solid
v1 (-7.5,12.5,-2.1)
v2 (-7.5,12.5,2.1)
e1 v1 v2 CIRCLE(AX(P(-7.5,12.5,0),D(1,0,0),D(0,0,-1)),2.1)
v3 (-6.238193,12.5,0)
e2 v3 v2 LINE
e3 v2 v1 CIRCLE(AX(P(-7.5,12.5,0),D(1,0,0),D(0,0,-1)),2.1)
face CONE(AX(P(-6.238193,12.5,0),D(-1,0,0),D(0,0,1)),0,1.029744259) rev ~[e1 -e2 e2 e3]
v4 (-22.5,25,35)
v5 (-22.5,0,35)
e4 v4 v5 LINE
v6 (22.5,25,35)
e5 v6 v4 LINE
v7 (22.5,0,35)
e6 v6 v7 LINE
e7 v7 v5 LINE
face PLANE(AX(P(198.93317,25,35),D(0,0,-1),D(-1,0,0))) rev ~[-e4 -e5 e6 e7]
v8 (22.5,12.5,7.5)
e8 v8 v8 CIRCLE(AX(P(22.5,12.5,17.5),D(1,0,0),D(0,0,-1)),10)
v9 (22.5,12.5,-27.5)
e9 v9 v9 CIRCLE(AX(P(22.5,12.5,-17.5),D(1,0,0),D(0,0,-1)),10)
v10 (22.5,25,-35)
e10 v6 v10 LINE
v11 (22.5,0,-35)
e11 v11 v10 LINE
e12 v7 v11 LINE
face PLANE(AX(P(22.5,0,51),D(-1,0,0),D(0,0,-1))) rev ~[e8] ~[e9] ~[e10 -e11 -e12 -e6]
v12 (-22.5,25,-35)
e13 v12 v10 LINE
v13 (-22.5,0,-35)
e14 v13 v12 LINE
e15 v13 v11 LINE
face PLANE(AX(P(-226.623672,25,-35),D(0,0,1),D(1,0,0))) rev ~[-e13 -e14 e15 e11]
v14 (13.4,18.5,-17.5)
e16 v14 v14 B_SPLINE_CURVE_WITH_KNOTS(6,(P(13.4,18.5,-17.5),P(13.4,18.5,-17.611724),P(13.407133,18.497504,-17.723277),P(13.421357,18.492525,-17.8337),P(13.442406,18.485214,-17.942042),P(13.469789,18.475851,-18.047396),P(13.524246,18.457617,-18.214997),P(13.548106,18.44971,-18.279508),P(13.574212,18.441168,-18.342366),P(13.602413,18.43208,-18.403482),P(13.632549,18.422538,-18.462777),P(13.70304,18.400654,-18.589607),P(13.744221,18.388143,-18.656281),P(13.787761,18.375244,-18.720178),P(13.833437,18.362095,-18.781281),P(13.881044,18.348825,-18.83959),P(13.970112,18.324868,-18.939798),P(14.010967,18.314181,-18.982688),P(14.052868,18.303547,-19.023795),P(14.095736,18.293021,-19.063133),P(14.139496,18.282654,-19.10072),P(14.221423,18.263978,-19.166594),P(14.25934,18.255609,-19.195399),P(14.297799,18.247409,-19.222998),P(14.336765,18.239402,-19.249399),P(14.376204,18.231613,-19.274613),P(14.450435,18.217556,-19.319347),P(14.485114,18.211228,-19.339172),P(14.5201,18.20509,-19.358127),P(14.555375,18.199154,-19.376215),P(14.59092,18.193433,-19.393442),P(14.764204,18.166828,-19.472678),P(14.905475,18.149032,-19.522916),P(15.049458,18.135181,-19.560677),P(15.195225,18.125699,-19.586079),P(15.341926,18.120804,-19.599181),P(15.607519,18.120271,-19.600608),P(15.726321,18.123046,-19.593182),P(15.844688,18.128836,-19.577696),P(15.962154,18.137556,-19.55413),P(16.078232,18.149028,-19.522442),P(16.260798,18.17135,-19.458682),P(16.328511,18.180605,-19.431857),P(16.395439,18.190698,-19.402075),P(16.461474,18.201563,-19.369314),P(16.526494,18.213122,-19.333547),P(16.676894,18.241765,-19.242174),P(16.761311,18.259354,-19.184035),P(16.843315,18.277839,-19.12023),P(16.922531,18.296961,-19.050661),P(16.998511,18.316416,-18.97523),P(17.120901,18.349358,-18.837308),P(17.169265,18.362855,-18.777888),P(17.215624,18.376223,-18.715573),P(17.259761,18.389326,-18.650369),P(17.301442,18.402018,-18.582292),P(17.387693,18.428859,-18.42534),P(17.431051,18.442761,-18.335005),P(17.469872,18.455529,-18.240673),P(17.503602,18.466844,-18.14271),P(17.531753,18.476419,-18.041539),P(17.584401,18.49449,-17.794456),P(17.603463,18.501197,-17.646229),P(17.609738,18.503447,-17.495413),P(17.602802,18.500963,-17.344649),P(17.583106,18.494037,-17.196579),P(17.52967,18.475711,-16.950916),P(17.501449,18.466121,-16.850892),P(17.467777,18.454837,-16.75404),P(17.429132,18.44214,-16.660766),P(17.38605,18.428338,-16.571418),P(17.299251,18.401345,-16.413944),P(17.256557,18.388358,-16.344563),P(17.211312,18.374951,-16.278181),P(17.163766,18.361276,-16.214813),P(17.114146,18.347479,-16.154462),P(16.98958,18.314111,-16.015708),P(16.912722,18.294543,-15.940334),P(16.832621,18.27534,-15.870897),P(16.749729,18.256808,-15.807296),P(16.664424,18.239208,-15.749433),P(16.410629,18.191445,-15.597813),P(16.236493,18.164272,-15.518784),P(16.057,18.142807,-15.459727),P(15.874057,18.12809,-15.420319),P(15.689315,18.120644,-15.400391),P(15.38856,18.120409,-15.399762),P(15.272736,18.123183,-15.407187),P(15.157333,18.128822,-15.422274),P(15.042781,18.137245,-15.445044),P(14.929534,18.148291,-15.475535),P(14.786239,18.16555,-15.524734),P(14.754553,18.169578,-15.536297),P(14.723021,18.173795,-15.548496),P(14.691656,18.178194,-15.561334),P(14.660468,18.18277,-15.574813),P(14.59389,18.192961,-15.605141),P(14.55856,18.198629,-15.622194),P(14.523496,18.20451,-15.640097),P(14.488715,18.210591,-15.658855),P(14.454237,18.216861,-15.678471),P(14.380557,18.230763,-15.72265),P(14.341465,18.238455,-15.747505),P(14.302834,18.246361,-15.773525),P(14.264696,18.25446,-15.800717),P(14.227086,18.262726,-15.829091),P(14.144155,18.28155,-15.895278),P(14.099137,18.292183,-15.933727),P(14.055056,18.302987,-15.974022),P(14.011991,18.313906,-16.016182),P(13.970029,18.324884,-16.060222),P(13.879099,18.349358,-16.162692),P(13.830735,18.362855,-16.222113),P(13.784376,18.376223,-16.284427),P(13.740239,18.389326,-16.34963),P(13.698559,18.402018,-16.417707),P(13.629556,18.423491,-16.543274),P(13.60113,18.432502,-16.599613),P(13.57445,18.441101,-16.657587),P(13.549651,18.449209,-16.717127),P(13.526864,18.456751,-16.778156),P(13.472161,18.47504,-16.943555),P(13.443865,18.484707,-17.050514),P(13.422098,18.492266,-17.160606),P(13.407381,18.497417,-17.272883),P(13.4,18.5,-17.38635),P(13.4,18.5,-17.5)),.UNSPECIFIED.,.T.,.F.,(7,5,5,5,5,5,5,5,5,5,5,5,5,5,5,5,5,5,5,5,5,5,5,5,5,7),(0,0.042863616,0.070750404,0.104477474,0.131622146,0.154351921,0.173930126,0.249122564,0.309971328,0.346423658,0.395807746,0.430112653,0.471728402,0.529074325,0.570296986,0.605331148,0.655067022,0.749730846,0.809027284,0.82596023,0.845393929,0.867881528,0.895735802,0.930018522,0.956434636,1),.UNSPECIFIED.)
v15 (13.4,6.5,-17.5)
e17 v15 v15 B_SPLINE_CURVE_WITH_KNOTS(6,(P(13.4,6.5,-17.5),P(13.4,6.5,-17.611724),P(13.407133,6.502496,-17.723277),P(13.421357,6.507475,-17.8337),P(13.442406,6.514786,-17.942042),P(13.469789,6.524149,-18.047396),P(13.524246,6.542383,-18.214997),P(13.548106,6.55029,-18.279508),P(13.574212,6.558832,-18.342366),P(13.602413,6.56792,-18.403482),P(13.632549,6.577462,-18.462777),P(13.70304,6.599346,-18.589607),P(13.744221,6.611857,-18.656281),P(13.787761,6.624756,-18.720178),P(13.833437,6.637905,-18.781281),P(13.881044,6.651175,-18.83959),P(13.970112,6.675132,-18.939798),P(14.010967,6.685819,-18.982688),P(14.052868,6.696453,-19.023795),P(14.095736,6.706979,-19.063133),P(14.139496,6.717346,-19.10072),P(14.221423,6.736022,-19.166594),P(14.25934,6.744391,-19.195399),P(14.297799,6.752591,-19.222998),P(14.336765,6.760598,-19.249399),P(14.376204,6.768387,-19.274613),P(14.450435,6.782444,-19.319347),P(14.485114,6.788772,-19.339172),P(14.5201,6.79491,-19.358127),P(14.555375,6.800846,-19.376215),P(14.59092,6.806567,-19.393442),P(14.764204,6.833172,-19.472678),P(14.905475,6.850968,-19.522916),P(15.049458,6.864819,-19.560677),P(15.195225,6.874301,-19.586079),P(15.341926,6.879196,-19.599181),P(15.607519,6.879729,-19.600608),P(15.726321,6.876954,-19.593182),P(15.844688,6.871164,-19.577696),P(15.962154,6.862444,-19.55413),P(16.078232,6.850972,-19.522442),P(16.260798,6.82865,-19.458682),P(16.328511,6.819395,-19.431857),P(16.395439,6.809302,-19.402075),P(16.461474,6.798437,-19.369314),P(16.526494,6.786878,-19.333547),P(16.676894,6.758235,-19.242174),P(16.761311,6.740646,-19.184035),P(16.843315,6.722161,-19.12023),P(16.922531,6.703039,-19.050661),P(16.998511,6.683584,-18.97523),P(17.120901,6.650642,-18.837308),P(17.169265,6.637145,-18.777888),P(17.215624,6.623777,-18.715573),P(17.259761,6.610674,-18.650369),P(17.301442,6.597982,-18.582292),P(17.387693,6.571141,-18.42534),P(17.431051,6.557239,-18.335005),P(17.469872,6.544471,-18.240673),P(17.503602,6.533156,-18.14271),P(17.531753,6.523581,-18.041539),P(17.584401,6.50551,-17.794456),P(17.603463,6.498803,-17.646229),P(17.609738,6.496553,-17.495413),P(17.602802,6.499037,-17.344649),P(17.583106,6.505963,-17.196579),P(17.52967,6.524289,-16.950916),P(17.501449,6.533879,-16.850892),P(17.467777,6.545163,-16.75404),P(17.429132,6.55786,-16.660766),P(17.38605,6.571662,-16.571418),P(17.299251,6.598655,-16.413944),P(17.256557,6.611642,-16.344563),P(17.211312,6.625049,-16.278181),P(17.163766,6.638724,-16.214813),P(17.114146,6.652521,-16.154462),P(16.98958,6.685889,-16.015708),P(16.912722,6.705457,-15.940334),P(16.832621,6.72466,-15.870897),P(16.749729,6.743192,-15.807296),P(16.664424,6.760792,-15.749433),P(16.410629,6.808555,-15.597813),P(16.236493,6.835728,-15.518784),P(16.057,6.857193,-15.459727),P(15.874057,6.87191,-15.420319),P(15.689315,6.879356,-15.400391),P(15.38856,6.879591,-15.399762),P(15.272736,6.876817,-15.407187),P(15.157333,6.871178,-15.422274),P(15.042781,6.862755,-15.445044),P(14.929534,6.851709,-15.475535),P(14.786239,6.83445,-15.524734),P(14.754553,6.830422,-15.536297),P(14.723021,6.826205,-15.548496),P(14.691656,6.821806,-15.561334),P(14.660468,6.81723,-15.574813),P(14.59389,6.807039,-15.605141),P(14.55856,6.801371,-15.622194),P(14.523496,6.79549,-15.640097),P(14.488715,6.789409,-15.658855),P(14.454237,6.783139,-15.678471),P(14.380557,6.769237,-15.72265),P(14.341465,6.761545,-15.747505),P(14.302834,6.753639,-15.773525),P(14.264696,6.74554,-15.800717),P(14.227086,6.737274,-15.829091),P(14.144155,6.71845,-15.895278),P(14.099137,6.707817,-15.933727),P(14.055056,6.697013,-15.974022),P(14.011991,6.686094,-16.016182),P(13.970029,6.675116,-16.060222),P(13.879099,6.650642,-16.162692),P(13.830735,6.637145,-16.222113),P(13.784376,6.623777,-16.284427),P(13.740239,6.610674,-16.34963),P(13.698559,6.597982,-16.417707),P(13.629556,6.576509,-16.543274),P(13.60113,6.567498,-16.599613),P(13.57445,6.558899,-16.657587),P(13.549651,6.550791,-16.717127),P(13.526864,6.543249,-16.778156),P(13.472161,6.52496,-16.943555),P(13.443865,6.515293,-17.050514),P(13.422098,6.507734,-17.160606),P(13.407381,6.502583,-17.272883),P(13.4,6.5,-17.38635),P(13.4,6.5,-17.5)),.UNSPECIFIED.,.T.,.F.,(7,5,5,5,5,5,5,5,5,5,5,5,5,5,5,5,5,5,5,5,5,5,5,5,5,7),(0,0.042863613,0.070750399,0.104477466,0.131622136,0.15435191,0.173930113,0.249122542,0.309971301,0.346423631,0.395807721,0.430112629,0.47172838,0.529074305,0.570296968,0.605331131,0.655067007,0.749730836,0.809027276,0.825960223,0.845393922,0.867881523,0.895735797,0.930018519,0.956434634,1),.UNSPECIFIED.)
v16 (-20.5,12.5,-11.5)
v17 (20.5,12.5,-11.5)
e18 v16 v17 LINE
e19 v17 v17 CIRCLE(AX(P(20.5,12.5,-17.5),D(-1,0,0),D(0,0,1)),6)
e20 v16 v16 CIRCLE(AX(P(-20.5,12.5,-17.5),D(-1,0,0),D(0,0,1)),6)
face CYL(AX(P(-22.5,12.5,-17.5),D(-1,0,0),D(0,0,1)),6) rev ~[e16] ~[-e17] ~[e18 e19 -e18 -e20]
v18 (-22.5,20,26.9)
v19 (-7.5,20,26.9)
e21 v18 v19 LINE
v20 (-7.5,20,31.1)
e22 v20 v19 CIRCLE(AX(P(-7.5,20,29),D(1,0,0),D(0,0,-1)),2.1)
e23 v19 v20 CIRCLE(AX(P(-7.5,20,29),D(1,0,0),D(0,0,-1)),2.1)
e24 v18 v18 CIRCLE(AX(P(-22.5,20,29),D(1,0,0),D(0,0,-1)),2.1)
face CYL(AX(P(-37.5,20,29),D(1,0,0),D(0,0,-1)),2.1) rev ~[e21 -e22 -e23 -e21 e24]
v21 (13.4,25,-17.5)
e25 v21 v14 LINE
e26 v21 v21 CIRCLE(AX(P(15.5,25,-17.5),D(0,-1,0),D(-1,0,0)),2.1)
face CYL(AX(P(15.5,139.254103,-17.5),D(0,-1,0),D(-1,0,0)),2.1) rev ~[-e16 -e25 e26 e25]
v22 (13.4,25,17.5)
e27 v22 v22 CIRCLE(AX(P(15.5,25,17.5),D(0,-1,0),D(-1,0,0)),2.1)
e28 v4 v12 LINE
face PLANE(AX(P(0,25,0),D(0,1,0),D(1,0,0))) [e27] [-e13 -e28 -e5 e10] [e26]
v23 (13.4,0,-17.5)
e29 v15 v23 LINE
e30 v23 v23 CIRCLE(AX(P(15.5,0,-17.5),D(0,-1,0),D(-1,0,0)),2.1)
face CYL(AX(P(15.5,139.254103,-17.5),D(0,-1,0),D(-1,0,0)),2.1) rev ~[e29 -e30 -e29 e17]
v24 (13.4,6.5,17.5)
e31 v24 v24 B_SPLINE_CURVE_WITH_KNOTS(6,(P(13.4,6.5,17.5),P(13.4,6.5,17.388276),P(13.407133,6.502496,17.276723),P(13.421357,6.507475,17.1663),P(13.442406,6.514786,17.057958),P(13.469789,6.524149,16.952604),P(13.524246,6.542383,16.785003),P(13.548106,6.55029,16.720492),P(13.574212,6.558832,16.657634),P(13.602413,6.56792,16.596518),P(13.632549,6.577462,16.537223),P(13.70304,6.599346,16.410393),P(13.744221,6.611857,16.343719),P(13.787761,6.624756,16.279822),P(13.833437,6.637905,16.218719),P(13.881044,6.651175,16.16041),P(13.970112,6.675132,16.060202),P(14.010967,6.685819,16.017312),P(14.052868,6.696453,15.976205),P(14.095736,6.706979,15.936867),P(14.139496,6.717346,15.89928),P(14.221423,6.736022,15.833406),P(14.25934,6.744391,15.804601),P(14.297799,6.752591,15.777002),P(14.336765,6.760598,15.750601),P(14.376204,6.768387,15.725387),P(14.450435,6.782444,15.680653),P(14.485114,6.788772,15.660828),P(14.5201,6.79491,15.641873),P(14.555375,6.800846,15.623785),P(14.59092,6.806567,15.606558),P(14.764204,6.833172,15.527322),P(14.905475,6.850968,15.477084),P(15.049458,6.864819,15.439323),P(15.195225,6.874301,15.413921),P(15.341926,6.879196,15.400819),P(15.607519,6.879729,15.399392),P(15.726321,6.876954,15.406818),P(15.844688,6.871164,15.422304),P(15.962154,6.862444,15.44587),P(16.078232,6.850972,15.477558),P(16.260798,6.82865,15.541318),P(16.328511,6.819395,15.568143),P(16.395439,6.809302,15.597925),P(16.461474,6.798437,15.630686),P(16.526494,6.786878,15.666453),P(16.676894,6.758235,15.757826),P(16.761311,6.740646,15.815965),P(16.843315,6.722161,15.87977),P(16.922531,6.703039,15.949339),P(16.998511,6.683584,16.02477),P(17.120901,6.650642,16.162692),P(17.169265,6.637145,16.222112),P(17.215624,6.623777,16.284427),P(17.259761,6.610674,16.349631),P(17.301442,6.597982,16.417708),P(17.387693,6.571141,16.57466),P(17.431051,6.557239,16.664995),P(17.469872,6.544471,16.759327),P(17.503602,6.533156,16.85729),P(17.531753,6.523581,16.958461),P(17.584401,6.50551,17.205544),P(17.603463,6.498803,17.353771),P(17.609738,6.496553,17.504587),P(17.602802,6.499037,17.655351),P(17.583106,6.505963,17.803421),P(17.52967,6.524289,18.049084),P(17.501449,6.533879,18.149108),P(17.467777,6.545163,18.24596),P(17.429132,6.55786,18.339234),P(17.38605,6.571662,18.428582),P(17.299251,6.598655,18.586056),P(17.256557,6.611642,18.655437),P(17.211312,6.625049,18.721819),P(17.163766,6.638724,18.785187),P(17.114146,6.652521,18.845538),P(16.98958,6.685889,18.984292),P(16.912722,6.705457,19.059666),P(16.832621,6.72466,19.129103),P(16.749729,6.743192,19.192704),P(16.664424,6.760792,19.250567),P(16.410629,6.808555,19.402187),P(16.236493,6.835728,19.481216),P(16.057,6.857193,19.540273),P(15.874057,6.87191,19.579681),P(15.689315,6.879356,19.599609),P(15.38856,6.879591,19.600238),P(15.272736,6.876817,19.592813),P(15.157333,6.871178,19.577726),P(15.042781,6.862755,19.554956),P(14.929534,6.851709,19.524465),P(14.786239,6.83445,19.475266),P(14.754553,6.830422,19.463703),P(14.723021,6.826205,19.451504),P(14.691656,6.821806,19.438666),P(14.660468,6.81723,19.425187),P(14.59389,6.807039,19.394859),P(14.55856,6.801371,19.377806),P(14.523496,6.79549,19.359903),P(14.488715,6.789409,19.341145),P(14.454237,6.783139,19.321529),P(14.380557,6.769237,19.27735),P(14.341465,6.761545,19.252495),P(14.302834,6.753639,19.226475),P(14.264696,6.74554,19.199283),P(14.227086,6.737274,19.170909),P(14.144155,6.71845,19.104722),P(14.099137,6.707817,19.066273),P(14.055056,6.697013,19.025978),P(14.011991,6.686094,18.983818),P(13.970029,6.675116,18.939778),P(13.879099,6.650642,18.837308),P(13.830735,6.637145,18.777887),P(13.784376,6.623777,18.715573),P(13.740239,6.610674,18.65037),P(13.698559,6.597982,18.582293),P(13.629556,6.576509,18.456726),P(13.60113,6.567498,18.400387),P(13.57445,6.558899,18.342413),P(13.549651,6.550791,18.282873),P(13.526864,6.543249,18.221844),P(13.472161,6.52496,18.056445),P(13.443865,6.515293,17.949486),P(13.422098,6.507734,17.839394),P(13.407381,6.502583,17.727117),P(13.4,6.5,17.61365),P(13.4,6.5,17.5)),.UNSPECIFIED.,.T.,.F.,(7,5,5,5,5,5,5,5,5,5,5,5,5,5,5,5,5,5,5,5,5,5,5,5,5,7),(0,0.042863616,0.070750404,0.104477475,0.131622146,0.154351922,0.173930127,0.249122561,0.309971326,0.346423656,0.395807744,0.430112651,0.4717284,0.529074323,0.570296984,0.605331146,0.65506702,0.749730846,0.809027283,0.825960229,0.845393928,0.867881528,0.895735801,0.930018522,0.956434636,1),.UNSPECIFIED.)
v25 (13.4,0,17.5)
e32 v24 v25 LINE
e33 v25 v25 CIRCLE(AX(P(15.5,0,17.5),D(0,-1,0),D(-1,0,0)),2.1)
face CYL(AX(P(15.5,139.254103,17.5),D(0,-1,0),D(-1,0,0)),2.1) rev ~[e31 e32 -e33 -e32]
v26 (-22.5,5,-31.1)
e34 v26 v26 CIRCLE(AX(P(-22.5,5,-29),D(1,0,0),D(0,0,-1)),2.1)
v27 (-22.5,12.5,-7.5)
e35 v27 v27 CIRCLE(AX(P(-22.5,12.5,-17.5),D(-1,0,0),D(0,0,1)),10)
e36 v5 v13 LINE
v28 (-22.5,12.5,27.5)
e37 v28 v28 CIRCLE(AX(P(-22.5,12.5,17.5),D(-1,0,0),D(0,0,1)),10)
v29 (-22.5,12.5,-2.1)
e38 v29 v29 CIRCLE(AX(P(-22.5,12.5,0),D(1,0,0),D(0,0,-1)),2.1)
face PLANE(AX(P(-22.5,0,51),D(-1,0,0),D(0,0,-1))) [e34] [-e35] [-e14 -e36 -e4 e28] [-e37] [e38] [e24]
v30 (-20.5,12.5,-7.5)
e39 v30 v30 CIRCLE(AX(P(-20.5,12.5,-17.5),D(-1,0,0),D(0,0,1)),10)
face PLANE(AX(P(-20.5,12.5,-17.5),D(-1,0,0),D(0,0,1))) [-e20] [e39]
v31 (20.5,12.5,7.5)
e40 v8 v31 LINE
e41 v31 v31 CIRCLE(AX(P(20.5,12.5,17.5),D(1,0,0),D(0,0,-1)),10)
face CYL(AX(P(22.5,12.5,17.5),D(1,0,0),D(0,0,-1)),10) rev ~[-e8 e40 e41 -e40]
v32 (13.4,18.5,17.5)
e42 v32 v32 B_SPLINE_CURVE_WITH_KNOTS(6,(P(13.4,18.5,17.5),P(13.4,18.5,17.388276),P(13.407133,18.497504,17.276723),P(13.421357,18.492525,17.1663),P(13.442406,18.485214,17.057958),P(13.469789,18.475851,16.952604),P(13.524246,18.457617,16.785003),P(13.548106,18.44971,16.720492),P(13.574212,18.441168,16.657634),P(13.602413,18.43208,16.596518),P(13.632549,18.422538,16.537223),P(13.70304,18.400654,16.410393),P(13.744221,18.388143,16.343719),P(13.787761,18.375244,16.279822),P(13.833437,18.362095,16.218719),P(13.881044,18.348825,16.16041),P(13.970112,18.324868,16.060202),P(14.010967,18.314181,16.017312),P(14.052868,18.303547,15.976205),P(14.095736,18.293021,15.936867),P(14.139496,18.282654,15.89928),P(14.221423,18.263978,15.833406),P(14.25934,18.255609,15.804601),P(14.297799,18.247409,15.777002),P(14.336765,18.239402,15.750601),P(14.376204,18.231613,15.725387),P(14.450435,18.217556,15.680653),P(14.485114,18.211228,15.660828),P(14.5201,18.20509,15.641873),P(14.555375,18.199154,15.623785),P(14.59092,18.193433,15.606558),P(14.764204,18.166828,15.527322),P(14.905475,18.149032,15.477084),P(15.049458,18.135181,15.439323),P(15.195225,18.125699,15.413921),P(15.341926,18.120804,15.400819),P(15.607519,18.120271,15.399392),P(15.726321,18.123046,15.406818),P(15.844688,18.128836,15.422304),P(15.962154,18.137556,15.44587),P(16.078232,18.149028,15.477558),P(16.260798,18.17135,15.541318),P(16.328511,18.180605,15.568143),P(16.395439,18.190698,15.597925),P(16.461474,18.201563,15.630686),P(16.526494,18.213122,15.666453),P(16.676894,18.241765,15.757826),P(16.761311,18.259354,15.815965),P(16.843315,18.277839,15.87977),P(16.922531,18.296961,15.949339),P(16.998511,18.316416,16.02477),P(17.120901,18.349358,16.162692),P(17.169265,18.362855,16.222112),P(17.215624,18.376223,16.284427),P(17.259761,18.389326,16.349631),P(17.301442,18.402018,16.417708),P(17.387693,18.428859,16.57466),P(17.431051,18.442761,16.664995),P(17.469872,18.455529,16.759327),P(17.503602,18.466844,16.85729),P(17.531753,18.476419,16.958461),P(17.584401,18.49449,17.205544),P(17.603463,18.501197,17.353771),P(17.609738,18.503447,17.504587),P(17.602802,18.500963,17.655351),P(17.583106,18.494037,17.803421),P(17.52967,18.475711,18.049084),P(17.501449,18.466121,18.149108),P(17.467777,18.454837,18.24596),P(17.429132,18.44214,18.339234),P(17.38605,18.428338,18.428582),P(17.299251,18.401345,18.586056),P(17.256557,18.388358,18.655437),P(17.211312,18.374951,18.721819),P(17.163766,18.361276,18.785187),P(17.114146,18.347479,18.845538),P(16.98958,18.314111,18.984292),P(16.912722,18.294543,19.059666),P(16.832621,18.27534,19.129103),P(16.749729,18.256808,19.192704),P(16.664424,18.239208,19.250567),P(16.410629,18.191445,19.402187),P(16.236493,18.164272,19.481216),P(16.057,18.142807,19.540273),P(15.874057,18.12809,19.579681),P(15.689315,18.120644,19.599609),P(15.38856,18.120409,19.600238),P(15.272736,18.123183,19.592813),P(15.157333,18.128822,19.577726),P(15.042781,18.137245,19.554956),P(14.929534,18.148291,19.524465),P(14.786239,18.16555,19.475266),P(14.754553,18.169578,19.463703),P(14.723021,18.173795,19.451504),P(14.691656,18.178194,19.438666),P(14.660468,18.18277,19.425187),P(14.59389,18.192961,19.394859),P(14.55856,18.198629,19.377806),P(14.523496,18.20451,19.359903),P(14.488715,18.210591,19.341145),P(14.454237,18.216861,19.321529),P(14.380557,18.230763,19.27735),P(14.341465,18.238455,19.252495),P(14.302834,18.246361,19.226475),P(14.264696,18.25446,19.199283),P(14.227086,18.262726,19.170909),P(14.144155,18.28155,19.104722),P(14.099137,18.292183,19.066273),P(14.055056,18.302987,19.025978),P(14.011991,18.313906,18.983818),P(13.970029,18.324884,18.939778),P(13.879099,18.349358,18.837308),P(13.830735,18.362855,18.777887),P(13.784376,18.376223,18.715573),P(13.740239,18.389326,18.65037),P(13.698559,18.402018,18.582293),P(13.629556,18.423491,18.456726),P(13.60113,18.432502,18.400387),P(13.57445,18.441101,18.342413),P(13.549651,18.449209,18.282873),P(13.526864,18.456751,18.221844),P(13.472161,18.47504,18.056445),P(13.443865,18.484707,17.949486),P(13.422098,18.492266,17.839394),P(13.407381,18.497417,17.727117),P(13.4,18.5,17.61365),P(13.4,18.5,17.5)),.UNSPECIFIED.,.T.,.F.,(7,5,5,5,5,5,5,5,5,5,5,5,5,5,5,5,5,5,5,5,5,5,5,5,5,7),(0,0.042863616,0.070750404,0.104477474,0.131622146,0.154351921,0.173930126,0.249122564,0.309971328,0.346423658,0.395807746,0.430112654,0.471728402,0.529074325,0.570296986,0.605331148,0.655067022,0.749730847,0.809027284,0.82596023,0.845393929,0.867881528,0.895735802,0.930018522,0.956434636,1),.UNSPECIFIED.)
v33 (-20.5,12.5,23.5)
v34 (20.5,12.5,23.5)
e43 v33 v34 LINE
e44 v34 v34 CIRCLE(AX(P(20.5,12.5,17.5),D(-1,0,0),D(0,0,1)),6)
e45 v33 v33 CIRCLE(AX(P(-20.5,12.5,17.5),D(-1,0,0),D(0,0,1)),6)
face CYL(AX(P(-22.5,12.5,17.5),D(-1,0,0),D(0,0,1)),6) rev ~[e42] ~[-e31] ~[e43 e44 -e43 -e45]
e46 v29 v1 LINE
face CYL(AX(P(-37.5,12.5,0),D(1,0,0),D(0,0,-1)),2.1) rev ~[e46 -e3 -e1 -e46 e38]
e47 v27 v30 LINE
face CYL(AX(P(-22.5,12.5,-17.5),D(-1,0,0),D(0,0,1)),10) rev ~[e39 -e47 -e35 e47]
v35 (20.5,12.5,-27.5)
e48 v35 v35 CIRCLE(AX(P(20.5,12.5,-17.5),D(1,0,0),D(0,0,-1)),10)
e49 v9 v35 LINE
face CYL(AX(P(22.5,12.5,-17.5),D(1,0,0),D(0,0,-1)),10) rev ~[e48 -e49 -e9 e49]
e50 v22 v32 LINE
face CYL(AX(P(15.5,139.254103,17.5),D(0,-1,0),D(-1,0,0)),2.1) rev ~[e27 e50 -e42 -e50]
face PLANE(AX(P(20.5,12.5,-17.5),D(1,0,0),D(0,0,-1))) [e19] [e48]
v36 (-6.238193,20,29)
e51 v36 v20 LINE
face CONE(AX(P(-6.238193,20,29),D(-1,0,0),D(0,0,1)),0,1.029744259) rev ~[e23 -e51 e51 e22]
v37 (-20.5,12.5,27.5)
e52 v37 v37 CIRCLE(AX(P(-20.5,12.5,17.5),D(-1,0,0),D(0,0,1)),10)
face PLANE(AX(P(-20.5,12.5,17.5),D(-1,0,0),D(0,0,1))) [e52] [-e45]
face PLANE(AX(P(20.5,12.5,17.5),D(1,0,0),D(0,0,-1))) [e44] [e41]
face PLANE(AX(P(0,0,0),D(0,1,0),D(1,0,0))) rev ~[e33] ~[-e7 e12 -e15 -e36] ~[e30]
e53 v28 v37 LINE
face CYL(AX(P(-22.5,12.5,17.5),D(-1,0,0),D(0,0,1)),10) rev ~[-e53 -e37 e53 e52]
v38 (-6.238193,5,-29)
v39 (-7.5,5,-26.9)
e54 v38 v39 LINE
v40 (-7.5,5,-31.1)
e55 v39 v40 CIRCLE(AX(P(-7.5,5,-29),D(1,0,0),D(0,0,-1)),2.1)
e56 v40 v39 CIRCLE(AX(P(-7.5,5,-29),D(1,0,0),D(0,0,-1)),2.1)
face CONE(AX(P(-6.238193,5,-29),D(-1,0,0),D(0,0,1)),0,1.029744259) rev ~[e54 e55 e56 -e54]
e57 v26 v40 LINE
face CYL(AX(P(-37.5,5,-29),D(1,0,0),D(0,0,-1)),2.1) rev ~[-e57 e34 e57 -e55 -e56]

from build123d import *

# Parameters (mm, degrees)
SKETCH1_W                = 45
SKETCH1_H                = 102
BOSS_EXTRUDE1_DEPTH      = 25
M5_TAPPED_HOLE3_D        = 4.2
SKETCH27_R               = 6
CUT_EXTRUDE1_DEPTH       = 74
SKETCH28_R               = 10
CUT_EXTRUDE3_DEPTH       = 2
SKETCH30_R               = 10
CUT_EXTRUDE4_DEPTH       = 2
M5_TAPPED_HOLE4_D        = 4.2
M5_TAPPED_HOLE4_DEPTH    = 14
M5_TAPPED_HOLE4_TIP      = 1.2618073
M5_TAPPED_HOLE5_D        = 4.2
M5_TAPPED_HOLE5_DEPTH    = 15
M5_TAPPED_HOLE5_TIP      = 1.2618073
CUT_EXTRUDE5_DEPTH       = 1.0000001
CUT_EXTRUDE5_DEPTH_BACK  = 26.0000001
CUT_EXTRUDE12_DEPTH      = 1.0000001
CUT_EXTRUDE12_DEPTH_BACK = 26.0000001
M5_TAPPED_HOLE6_D        = 4.2
M5_TAPPED_HOLE6_DEPTH    = 15
M5_TAPPED_HOLE6_TIP      = 1.2618073


with BuildPart() as part:
    # Sketch1 → Boss-Extrude1 (new body)
    with BuildSketch(Plane(origin=(0, 0, 0), x_dir=(1, 0, 0), z_dir=(0, 1, 0))):
        Rectangle(SKETCH1_W, SKETCH1_H)
    extrude(amount=BOSS_EXTRUDE1_DEPTH)

    # M5 Tapped Hole3 (through all)
    with Locations(Plane(origin=(0, 25, 0), x_dir=(1, 0, 0), z_dir=(0, 1, 0))):
        with Locations((15.5, 17.5), (15.5, -17.5)):
            Hole(M5_TAPPED_HOLE3_D / 2)

    # Sketch27 → Cut-Extrude1 (cut)
    with BuildSketch(Plane.ZY.offset(22.5)):
        with Locations((-17.5, 12.5)):
            Circle(SKETCH27_R)
        with Locations((17.5, 12.5)):
            Circle(SKETCH27_R)
    extrude(amount=-CUT_EXTRUDE1_DEPTH, mode=Mode.SUBTRACT)

    # Sketch28 → Cut-Extrude3 (cut)
    with BuildSketch(Plane.ZY.offset(22.5)):
        with Locations((-17.5, 12.5)):
            Circle(SKETCH28_R)
        with Locations((17.5, 12.5)):
            Circle(SKETCH28_R)
    extrude(amount=-CUT_EXTRUDE3_DEPTH, mode=Mode.SUBTRACT)

    # Sketch30 → Cut-Extrude4 (cut)
    with BuildSketch(Plane(origin=(22.5, 0, 0), x_dir=(0, 0, -1), z_dir=(1, 0, 0))):
        with Locations((-17.5, 12.5)):
            Circle(SKETCH30_R)
        with Locations((17.5, 12.5)):
            Circle(SKETCH30_R)
    extrude(amount=-CUT_EXTRUDE4_DEPTH, mode=Mode.SUBTRACT)

    # M5 Tapped Hole4
    with Locations(Plane(origin=(0, 0, -51), x_dir=(-1, 0, 0), z_dir=(0, 0, -1))):
        with Locations((-18, 5), (18, 20)):
            Hole(M5_TAPPED_HOLE4_D / 2, depth=M5_TAPPED_HOLE4_DEPTH)
            with Locations((0, 0, -(M5_TAPPED_HOLE4_DEPTH + M5_TAPPED_HOLE4_TIP / 2))):  # 118° drill point
                Cone(0, M5_TAPPED_HOLE4_D / 2, M5_TAPPED_HOLE4_TIP, mode=Mode.SUBTRACT)

    # M5 Tapped Hole5
    with Locations(Plane.ZY.offset(22.5)):
        with Locations((0, 12.5)):
            Hole(M5_TAPPED_HOLE5_D / 2, depth=M5_TAPPED_HOLE5_DEPTH)
            with Locations((0, 0, -(M5_TAPPED_HOLE5_DEPTH + M5_TAPPED_HOLE5_TIP / 2))):  # 118° drill point
                Cone(0, M5_TAPPED_HOLE5_D / 2, M5_TAPPED_HOLE5_TIP, mode=Mode.SUBTRACT)

    # Sketch37 → Cut-Extrude5 (cut, two sides)
    with BuildSketch(Plane(origin=(0, 25, 0), x_dir=(1, 0, 0), z_dir=(0, 1, 0))) as cut_extrude5_sk:
        Polygon((-226.623671921, 35), (-22.5, 35), (22.5, 35), (226.623671921, 35), (226.623671921, 443.247343842), (-226.623671921, 443.247343842), align=None)
    extrude(amount=CUT_EXTRUDE5_DEPTH, mode=Mode.SUBTRACT)
    extrude(cut_extrude5_sk.sketch, amount=-CUT_EXTRUDE5_DEPTH_BACK, mode=Mode.SUBTRACT)

    # Sketch38 → Cut-Extrude12 (cut, two sides)
    with BuildSketch(Plane(origin=(0, 25, 0), x_dir=(1, 0, 0), z_dir=(0, 1, 0))) as cut_extrude12_sk:
        Polygon((-198.933169771, -35), (-22.5, -35), (22.5, -35), (198.933169771, -35), (198.933169771, -387.866339542), (-198.933169771, -387.866339542), align=None)
    extrude(amount=CUT_EXTRUDE12_DEPTH, mode=Mode.SUBTRACT)
    extrude(cut_extrude12_sk.sketch, amount=-CUT_EXTRUDE12_DEPTH_BACK, mode=Mode.SUBTRACT)

    # M5 Tapped Hole6
    with Locations(Plane.ZY.offset(22.5)):
        with Locations((-29, 5), (29, 20)):
            Hole(M5_TAPPED_HOLE6_D / 2, depth=M5_TAPPED_HOLE6_DEPTH)
            with Locations((0, 0, -(M5_TAPPED_HOLE6_DEPTH + M5_TAPPED_HOLE6_TIP / 2))):  # 118° drill point
                Cone(0, M5_TAPPED_HOLE6_D / 2, M5_TAPPED_HOLE6_TIP, mode=Mode.SUBTRACT)


solid = part.part
